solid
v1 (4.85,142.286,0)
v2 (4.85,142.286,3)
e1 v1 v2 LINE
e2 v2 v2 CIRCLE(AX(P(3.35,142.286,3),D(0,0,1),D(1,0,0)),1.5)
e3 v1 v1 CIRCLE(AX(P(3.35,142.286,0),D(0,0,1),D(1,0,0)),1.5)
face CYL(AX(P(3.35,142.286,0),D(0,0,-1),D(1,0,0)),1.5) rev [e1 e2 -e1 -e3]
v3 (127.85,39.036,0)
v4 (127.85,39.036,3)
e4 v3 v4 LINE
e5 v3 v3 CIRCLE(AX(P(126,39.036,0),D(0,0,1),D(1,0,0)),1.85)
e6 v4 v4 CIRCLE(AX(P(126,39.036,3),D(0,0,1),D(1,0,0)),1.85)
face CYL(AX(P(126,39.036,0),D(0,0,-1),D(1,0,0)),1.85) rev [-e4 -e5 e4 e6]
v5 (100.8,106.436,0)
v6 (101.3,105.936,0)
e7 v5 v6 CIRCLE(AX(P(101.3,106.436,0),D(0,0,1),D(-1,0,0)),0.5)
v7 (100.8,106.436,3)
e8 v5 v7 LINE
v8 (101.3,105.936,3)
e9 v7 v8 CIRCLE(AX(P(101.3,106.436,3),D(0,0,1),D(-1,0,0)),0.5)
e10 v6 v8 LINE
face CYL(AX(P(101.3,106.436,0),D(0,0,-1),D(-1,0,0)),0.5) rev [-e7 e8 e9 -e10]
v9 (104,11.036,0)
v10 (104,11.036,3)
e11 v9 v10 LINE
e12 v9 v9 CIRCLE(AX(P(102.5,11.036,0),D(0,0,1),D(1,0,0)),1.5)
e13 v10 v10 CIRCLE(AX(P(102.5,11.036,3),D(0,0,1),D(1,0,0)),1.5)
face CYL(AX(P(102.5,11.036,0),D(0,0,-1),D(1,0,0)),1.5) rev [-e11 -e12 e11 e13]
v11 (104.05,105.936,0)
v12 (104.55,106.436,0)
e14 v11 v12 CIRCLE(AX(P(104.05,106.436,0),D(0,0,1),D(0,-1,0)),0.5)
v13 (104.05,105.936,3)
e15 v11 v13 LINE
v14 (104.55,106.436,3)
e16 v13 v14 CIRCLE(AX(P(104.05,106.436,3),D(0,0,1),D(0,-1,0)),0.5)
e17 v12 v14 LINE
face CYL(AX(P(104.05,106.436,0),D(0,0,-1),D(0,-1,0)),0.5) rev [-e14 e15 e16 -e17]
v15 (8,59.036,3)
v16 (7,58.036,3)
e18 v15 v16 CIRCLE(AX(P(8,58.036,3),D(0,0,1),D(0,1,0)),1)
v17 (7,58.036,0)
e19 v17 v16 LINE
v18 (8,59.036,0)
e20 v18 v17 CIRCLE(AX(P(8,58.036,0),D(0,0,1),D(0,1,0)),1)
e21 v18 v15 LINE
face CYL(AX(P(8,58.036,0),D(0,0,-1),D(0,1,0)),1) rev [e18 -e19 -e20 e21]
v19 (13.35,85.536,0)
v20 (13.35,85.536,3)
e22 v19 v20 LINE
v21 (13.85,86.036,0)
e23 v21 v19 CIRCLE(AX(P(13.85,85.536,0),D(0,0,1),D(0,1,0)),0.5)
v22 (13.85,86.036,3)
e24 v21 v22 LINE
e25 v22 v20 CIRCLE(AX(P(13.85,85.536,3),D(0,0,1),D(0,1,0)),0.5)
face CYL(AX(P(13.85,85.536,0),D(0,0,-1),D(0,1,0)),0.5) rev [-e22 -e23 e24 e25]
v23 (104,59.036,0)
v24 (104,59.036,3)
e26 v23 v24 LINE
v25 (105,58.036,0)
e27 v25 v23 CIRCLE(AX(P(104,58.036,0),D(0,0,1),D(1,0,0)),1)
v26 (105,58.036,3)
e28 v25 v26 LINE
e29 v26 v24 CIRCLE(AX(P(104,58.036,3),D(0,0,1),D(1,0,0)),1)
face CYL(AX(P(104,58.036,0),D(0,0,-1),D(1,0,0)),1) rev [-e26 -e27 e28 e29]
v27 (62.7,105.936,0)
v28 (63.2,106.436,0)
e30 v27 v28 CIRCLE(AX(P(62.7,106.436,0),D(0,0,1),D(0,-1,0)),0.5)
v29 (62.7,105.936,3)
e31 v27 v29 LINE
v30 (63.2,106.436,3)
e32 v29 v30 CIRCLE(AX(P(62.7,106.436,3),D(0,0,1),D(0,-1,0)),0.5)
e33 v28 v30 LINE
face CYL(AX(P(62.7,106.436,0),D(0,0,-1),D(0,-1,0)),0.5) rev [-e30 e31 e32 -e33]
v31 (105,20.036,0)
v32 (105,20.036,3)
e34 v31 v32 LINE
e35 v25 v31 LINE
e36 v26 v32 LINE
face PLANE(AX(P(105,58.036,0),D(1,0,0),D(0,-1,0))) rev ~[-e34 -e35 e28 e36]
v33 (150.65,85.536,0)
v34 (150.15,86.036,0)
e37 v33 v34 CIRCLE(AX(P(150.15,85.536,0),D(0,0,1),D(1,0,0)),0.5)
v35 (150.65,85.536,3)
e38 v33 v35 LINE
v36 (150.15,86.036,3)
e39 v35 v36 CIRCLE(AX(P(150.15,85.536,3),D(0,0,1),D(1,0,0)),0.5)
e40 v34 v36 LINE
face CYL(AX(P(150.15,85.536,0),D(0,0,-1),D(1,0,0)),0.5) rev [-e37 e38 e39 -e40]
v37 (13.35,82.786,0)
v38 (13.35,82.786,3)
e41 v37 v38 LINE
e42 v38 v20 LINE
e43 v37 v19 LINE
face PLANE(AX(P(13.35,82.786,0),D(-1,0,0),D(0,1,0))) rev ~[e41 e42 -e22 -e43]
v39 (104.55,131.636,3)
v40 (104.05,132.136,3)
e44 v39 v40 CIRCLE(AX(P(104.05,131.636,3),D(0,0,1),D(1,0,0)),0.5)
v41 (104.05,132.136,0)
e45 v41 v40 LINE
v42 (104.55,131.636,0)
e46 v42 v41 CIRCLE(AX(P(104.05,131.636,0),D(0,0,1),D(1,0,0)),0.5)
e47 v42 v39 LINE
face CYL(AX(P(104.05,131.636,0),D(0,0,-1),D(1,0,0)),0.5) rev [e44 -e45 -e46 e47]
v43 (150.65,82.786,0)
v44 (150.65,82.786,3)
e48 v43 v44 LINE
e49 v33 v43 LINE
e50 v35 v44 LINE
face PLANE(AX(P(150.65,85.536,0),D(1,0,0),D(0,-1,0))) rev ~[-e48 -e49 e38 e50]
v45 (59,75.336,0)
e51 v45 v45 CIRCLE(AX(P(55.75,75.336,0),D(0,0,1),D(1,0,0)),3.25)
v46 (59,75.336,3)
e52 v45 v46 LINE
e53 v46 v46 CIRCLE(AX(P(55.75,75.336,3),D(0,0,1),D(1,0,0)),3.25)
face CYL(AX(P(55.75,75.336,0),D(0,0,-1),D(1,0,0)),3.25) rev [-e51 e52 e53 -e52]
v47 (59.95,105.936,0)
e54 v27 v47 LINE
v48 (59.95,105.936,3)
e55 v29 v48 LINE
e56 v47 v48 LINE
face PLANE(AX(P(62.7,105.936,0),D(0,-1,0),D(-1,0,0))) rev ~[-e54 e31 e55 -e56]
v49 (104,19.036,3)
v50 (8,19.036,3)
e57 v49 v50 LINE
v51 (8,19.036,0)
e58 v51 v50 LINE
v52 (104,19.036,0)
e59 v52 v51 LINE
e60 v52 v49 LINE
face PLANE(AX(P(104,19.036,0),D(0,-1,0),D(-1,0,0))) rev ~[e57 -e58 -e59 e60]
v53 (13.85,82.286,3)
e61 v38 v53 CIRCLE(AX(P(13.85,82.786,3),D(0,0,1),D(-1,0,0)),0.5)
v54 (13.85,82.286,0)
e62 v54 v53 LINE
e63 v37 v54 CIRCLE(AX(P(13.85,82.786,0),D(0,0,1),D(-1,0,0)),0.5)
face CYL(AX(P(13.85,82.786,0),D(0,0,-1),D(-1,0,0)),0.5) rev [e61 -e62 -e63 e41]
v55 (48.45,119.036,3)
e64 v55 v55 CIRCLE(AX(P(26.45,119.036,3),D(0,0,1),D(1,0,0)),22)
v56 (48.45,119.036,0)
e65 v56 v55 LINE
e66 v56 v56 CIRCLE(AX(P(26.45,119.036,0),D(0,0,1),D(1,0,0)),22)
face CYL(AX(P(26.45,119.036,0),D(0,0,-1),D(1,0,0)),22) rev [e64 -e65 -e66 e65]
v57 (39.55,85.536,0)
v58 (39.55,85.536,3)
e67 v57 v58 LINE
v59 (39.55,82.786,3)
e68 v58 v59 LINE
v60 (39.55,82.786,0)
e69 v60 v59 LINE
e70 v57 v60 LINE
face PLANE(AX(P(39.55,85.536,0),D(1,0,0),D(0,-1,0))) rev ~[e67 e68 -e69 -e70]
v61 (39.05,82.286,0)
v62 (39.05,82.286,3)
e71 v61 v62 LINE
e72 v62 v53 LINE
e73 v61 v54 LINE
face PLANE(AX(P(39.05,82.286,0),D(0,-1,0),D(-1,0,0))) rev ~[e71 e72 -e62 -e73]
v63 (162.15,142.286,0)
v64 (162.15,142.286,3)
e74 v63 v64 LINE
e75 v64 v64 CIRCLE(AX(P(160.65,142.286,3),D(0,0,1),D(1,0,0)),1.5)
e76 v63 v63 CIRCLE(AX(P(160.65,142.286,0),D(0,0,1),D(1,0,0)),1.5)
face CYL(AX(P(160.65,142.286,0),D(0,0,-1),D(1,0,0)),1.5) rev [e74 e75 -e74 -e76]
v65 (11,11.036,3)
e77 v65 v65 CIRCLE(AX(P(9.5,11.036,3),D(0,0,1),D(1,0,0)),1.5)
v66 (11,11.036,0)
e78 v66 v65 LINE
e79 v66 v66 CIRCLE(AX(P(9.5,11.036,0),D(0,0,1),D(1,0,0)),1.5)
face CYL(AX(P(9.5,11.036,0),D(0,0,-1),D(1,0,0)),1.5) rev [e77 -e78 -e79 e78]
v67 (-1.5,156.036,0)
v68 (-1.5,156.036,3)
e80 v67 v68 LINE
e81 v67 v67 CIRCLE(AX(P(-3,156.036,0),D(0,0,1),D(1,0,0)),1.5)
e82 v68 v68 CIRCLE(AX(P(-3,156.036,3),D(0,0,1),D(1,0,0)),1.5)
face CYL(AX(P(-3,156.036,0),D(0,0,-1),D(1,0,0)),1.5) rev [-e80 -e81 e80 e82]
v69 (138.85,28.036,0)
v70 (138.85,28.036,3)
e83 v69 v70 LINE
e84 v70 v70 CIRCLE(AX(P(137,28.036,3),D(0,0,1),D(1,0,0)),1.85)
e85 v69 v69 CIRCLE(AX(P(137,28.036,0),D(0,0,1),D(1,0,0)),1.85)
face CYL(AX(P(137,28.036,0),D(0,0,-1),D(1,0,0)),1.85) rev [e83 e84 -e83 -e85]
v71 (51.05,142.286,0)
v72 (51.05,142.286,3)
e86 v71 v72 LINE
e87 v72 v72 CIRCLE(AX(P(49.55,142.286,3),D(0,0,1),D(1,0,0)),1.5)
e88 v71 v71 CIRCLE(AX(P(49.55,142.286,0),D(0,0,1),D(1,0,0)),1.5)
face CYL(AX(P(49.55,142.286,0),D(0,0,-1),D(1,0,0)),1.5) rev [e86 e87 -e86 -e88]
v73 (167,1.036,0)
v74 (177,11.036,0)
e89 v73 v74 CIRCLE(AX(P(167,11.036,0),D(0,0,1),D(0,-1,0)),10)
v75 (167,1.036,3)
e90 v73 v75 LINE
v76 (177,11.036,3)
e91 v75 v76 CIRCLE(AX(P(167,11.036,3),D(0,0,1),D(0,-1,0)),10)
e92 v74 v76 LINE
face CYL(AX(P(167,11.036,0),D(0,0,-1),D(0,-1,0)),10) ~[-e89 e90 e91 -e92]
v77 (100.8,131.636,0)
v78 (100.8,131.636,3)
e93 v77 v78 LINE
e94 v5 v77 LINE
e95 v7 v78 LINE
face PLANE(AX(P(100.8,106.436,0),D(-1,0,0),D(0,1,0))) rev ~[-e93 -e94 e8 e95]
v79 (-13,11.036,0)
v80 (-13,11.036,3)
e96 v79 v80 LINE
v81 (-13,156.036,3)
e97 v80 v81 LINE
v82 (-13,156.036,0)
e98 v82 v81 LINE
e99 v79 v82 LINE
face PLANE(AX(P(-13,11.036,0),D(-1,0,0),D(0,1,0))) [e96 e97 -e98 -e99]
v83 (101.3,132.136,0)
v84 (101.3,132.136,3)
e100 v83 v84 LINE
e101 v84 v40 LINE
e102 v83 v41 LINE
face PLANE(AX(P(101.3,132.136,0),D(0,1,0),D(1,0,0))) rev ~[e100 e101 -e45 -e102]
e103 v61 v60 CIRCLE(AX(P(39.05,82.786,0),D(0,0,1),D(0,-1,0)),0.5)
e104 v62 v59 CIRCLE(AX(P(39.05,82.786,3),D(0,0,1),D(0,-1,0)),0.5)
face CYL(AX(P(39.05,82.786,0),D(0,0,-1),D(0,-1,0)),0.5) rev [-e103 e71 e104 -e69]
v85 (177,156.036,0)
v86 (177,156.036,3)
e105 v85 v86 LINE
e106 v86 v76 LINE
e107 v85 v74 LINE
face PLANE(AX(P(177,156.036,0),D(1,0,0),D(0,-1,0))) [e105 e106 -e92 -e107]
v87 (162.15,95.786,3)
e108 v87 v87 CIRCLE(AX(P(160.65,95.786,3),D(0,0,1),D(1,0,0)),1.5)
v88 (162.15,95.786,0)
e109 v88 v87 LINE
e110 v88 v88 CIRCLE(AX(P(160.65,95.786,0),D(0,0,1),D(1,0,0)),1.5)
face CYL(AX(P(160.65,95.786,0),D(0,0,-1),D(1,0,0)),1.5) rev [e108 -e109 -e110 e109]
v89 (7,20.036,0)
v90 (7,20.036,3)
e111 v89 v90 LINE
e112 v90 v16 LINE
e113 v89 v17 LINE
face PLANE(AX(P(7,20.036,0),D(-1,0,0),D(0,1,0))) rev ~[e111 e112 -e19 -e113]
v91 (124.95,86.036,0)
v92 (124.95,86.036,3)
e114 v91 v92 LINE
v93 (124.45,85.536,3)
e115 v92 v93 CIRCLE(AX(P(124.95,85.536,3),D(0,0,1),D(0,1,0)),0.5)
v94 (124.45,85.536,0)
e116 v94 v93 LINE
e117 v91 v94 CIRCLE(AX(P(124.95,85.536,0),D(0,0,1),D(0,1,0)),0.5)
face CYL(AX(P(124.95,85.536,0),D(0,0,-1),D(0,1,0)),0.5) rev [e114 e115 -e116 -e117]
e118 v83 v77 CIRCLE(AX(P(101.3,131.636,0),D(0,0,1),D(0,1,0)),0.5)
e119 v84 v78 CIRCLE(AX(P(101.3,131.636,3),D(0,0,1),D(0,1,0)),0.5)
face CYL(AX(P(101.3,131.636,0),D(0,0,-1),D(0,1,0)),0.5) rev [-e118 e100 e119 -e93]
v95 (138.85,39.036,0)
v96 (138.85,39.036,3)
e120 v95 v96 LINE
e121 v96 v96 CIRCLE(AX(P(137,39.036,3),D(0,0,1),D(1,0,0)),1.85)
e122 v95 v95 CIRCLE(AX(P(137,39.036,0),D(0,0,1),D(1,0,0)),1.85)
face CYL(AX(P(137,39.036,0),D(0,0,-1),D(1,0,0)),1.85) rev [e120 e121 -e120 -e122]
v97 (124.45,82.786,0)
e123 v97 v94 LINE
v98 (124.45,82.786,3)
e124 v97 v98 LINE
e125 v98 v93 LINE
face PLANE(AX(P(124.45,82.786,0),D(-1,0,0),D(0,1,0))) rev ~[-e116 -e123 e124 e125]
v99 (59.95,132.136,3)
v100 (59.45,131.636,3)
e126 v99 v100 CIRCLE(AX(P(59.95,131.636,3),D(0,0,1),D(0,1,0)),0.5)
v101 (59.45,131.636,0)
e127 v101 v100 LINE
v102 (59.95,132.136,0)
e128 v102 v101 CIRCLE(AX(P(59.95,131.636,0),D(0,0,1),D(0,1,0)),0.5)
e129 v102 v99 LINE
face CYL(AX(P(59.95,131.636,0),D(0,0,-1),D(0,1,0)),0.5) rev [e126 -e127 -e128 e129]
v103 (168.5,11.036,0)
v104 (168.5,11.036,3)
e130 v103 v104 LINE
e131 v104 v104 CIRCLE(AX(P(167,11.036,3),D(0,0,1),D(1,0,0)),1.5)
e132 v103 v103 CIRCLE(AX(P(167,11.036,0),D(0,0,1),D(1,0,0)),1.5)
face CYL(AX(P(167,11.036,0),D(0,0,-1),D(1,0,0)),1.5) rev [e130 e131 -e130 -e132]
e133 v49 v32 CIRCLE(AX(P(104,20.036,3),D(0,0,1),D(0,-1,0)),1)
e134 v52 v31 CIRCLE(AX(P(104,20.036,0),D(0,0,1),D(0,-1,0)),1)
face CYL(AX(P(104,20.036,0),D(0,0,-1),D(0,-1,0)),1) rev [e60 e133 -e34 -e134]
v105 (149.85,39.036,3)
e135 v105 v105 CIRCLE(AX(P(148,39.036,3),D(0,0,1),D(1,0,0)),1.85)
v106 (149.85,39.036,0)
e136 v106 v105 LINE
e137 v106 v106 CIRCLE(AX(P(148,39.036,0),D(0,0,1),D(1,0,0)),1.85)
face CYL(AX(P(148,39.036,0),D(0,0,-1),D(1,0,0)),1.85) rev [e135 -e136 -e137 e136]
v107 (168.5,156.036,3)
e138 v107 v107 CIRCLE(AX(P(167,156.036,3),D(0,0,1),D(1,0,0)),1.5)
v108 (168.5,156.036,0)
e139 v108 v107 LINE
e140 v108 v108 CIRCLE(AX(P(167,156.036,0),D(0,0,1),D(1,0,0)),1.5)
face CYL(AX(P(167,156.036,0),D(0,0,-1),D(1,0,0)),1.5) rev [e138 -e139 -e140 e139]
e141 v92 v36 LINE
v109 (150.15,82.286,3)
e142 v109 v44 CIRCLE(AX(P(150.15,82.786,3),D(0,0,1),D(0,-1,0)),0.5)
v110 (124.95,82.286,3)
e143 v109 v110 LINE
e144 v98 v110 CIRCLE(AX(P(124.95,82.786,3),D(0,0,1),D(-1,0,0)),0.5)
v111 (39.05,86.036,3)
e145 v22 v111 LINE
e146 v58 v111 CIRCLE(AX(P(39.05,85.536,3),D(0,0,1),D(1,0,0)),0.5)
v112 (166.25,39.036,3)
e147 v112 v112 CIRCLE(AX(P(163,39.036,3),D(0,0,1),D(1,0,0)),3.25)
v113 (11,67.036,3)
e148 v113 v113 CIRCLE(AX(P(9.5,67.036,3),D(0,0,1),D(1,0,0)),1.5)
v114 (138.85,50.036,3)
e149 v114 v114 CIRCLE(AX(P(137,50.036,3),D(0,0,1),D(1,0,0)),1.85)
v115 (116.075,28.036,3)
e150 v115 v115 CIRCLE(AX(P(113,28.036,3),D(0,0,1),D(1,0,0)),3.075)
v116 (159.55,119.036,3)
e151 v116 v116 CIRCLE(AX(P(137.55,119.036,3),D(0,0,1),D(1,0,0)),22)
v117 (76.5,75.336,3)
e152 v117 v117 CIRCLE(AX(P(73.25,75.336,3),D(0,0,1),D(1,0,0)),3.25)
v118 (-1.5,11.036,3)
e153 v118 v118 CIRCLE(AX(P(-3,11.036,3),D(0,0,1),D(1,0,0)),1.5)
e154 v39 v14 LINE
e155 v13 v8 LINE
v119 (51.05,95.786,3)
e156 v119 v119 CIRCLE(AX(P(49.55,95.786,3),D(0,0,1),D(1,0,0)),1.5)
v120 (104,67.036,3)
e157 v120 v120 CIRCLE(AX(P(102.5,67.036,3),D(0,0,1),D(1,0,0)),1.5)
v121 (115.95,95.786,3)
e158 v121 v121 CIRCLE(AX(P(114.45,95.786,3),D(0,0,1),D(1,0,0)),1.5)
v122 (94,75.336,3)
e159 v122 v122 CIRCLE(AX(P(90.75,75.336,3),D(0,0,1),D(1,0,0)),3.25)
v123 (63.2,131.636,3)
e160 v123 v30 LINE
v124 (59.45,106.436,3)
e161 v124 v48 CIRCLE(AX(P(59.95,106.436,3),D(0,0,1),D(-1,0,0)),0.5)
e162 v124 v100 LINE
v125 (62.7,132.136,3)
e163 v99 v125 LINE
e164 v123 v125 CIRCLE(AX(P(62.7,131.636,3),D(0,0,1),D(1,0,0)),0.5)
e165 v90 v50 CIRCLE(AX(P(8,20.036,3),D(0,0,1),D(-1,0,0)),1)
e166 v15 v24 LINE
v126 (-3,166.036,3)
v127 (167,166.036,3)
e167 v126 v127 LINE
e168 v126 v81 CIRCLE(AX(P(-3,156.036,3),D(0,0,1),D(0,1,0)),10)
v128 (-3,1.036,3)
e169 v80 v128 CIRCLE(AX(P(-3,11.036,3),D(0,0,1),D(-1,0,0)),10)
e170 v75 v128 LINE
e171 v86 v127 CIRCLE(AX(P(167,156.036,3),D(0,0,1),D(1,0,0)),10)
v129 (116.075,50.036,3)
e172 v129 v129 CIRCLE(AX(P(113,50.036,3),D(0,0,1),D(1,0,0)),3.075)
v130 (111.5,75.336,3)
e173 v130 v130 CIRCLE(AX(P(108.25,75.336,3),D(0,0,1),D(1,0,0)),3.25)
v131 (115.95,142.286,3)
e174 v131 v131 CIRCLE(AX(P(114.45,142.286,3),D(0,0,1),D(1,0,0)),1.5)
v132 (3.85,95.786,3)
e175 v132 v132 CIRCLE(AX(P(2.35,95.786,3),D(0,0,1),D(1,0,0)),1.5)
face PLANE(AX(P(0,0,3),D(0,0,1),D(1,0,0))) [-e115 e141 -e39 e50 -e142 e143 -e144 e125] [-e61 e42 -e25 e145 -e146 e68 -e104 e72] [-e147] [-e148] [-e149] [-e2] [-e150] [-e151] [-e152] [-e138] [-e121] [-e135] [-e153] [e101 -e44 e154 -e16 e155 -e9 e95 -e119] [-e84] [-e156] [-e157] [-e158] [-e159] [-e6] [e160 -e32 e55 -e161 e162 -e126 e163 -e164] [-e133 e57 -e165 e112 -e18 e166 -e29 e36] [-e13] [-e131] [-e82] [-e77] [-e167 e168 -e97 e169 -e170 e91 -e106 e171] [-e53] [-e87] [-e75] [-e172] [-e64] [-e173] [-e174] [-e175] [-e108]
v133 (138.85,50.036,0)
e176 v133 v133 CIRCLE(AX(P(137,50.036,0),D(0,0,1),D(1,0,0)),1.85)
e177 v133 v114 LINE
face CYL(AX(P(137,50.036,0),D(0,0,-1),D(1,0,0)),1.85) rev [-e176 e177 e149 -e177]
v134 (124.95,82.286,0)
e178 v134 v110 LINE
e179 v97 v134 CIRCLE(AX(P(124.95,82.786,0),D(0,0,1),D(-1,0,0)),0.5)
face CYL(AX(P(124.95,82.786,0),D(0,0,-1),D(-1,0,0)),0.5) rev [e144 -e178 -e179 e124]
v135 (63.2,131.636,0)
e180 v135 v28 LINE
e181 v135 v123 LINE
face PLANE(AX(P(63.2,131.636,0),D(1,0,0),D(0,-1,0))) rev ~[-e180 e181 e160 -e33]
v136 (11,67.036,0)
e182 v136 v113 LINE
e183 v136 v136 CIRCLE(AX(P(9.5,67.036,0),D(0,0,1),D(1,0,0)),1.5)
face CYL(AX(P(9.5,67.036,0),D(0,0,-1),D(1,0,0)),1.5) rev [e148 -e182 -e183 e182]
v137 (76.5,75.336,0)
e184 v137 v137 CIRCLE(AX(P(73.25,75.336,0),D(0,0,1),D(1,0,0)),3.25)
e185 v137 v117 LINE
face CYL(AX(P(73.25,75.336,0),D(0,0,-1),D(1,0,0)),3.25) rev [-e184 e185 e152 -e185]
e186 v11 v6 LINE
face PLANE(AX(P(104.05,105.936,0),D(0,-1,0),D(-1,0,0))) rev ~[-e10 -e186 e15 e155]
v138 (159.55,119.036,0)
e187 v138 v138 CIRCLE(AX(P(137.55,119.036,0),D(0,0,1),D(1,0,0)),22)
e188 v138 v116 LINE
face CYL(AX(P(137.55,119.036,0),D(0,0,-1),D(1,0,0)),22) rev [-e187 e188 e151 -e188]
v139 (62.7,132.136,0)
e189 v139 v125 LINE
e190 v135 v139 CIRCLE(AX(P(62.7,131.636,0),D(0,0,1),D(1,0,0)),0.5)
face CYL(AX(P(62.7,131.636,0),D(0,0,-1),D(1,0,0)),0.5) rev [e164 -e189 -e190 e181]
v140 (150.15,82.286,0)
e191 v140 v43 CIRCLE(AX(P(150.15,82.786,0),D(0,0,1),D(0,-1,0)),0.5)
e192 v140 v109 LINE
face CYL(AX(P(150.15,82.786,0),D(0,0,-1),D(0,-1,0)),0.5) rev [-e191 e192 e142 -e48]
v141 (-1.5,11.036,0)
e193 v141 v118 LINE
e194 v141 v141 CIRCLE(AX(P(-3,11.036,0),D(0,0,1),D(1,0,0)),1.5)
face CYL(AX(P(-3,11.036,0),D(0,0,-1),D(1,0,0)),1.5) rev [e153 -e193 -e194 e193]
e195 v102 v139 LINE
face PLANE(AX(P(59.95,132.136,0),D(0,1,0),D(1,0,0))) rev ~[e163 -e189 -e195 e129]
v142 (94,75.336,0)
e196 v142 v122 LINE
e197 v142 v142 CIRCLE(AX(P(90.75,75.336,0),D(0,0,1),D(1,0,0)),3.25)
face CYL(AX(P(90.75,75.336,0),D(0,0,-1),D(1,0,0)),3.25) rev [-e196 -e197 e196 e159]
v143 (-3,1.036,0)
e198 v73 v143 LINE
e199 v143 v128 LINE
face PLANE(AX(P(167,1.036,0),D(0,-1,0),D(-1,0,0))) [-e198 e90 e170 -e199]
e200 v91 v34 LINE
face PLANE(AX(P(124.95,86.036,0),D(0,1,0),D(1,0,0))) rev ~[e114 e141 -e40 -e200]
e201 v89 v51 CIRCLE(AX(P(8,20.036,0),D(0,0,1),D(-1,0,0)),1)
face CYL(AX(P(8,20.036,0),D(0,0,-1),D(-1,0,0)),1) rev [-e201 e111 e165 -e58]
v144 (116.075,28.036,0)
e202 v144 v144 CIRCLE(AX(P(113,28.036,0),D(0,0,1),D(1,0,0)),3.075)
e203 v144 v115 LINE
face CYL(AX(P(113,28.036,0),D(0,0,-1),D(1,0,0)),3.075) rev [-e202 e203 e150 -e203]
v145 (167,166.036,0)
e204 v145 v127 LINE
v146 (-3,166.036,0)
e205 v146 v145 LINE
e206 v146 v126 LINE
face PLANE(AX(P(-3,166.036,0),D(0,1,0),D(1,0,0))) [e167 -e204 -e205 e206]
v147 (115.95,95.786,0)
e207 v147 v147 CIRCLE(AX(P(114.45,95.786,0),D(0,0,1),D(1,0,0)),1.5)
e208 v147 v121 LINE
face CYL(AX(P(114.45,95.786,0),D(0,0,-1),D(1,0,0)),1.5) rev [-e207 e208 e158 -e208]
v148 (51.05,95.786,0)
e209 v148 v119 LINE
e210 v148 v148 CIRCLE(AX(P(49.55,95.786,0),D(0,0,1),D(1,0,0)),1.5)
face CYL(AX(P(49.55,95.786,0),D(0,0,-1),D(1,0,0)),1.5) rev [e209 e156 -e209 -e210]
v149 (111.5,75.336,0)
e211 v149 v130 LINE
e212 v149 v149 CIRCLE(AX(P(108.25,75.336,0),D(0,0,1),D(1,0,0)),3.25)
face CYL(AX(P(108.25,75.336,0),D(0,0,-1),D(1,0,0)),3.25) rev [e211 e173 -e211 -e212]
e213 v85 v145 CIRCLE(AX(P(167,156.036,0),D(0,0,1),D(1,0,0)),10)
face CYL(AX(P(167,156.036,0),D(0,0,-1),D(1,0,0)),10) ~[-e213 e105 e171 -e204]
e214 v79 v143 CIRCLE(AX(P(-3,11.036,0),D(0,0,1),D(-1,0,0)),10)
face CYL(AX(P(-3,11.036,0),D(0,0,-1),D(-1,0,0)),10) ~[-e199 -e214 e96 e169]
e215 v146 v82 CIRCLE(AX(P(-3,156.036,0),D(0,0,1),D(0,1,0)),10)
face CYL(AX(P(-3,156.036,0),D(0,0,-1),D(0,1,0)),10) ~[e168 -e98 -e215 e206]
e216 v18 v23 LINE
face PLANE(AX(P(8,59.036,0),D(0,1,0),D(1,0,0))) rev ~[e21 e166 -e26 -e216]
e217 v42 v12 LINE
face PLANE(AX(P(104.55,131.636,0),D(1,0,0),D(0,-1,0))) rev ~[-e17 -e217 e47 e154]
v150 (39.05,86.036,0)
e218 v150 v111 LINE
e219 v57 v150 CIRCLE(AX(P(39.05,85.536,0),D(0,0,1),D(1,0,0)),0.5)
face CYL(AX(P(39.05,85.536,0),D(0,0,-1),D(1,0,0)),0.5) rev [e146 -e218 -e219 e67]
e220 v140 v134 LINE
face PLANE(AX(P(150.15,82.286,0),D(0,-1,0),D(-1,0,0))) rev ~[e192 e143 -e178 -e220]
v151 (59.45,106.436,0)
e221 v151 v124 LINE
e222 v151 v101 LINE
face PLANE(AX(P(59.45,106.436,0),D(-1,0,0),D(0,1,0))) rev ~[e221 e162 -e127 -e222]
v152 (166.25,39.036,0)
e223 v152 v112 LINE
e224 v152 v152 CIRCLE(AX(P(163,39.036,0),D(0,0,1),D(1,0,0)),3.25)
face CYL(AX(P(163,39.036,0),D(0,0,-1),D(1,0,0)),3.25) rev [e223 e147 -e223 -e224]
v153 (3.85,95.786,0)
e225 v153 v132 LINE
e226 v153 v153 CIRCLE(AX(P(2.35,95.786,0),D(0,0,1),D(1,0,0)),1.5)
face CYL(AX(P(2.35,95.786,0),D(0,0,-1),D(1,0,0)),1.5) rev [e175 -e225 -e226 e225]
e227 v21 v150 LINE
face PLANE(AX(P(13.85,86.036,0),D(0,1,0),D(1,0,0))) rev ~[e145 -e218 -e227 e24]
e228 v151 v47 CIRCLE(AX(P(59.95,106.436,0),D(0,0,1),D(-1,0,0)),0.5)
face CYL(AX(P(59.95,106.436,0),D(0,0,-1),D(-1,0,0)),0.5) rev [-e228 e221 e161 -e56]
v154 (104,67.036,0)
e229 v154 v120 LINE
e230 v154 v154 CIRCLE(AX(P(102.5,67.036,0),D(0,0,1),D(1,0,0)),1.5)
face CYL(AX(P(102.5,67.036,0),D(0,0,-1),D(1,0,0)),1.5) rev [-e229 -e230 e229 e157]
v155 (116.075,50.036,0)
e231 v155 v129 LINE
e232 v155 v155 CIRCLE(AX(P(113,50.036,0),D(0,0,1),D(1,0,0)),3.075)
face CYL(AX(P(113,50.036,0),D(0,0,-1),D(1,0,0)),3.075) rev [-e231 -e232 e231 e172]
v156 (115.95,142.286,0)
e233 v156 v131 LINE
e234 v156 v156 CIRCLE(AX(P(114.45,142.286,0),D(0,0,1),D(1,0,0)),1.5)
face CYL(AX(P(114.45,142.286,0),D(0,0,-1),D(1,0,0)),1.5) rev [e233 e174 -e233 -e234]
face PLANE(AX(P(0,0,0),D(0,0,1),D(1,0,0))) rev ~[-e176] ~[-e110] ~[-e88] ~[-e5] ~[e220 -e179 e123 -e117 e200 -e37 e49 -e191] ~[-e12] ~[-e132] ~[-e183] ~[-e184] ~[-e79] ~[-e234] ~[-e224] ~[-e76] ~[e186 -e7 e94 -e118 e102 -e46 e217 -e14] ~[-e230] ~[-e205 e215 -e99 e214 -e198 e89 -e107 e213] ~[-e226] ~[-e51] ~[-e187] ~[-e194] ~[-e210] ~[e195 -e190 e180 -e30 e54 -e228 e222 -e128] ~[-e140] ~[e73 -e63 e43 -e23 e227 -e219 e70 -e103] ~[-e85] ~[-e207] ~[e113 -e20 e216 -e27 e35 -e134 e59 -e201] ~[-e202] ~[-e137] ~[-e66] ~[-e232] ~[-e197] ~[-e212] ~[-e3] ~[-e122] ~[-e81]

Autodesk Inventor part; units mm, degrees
ref_plane "YZ Plane" through (0, 0, 0) normal (1, 0, 0) x (0, 1, 0)
ref_plane "XZ Plane" through (0, 0, 0) normal (0, 1, 0) x (-1, 0, 0)
ref_plane "XY Plane" through (0, 0, 0) normal (0, 0, 1) x (1, 0, 0)
sketch "Sketch1" plane through (0, 0, 0) normal (0, 0, 1) x (1, 0, 0)
  line L0 (-3, 166.036) -> (167, 166.036)
  line L1 (177, 156.036) -> (177, 11.036)
  line L2 (167, 1.036) -> (-3, 1.036)
  line L3 (-13, 11.036) -> (-13, 156.036)
  arc A0 (177, 156.036) -> (167, 166.036) centre (167, 156.036) ccw
  arc A1 (-3, 166.036) -> (-13, 156.036) centre (-3, 156.036) ccw
  arc A2 (-13, 11.036) -> (-3, 1.036) centre (-3, 11.036) ccw
  arc A3 (167, 1.036) -> (177, 11.036) centre (167, 11.036) ccw
  circle A4 centre (26.45, 119.036) radius 22
  circle A5 centre (137.55, 119.036) radius 22
  line L4 (59.95, 132.136) -> (62.7, 132.136)
  line L5 (63.2, 131.636) -> (63.2, 106.436)
  line L6 (62.7, 105.936) -> (59.95, 105.936)
  line L7 (59.45, 106.436) -> (59.45, 131.636)
  line L8 (101.3, 132.136) -> (104.05, 132.136)
  line L9 (104.55, 131.636) -> (104.55, 106.436)
  line L10 (104.05, 105.936) -> (101.3, 105.936)
  line L11 (100.8, 106.436) -> (100.8, 131.636)
  line L12 (13.85, 86.036) -> (39.05, 86.036)
  line L13 (39.55, 85.536) -> (39.55, 82.786)
  line L14 (39.05, 82.286) -> (13.85, 82.286)
  line L15 (13.35, 82.786) -> (13.35, 85.536)
  line L16 (124.95, 86.036) -> (150.15, 86.036)
  line L17 (150.65, 85.536) -> (150.65, 82.786)
  line L18 (150.15, 82.286) -> (124.95, 82.286)
  line L19 (124.45, 82.786) -> (124.45, 85.536)
  line L20 (26.45, 119.036) -> (137.55, 119.036) construction
  arc A6 (59.95, 132.136) -> (59.45, 131.636) centre (59.95, 131.636) ccw
  arc A7 (63.2, 131.636) -> (62.7, 132.136) centre (62.7, 131.636) ccw
  arc A8 (62.7, 105.936) -> (63.2, 106.436) centre (62.7, 106.436) ccw
  arc A9 (59.45, 106.436) -> (59.95, 105.936) centre (59.95, 106.436) ccw
  arc A10 (100.8, 106.436) -> (101.3, 105.936) centre (101.3, 106.436) ccw
  arc A11 (104.05, 105.936) -> (104.55, 106.436) centre (104.05, 106.436) ccw
  arc A12 (101.3, 132.136) -> (100.8, 131.636) centre (101.3, 131.636) ccw
  arc A13 (104.55, 131.636) -> (104.05, 132.136) centre (104.05, 131.636) ccw
  arc A14 (39.55, 85.536) -> (39.05, 86.036) centre (39.05, 85.536) ccw
  arc A15 (39.05, 82.286) -> (39.55, 82.786) centre (39.05, 82.786) ccw
  arc A16 (13.35, 82.786) -> (13.85, 82.286) centre (13.85, 82.786) ccw
  arc A17 (13.85, 86.036) -> (13.35, 85.536) centre (13.85, 85.536) ccw
  circle A18 centre (49.55, 142.286) radius 1.5
  circle A19 centre (3.35, 142.286) radius 1.5
  circle A20 centre (49.55, 95.786) radius 1.5
  circle A21 centre (2.35, 95.786) radius 1.5
  line L21 (49.55, 142.286) -> (49.55, 95.786) construction
  line L22 (49.55, 142.286) -> (3.35, 142.286) construction
  arc A22 (124.95, 86.036) -> (124.45, 85.536) centre (124.95, 85.536) ccw
  arc A23 (124.45, 82.786) -> (124.95, 82.286) centre (124.95, 82.786) ccw
  arc A24 (150.15, 82.286) -> (150.65, 82.786) centre (150.15, 82.786) ccw
  arc A25 (150.65, 85.536) -> (150.15, 86.036) centre (150.15, 85.536) ccw
  circle A26 centre (114.45, 142.286) radius 1.5
  circle A27 centre (160.65, 142.286) radius 1.5
  circle A28 centre (160.65, 95.786) radius 1.5
  circle A29 centre (114.45, 95.786) radius 1.5
  line L23 (160.65, 142.286) -> (160.65, 95.786) construction
  line L24 (114.45, 142.286) -> (160.65, 142.286) construction
  line L25 (8, 59.036) -> (104, 59.036)
  line L26 (105, 58.036) -> (105, 20.036)
  line L27 (104, 19.036) -> (8, 19.036)
  line L28 (7, 20.036) -> (7, 58.036)
  arc A30 (8, 59.036) -> (7, 58.036) centre (8, 58.036) ccw
  arc A31 (7, 20.036) -> (8, 19.036) centre (8, 20.036) ccw
  arc A32 (104, 19.036) -> (105, 20.036) centre (104, 20.036) ccw
  arc A33 (105, 58.036) -> (104, 59.036) centre (104, 58.036) ccw
  circle A34 centre (55.75, 75.336) radius 3.25
  circle A35 centre (73.25, 75.336) radius 3.25
  circle A36 centre (90.75, 75.336) radius 3.25
  circle A37 centre (108.25, 75.336) radius 3.25
  line L29 (73.25, 75.336) -> (90.75, 75.336) construction
  line L30 (39.55, 82.286) -> (124.45, 82.286) construction
  circle A38 centre (113, 50.036) radius 3.075
  circle A39 centre (113, 28.036) radius 3.075
  line L31 (113, 50.036) -> (113, 28.036) construction
  circle A40 centre (137, 50.036) radius 1.85
  circle A41 centre (126, 39.036) radius 1.85
  circle A42 centre (137, 39.036) radius 1.85
  circle A43 centre (137, 28.036) radius 1.85
  circle A44 centre (148, 39.036) radius 1.85
  circle A45 centre (163, 39.036) radius 3.25
  circle A46 centre (167, 156.036) radius 1.5
  circle A47 centre (-3, 156.036) radius 1.5
  circle A48 centre (167, 11.036) radius 1.5
  circle A49 centre (-3, 11.036) radius 1.5
  circle A50 centre (9.5, 67.036) radius 1.5
  circle A51 centre (102.5, 67.036) radius 1.5
  circle A52 centre (9.5, 11.036) radius 1.5
  circle A53 centre (102.5, 11.036) radius 1.5
  point P0 (0, 0)
  point P1 (-13, 166.036)
  point P2 (177, 1.036)
  point P3 (-13, 1.036)
  point P4 (59.45, 132.136)
  point P5 (63.2, 105.936)
  point P6 (63.2, 132.136)
  point P7 (100.8, 132.136)
  point P8 (104.55, 105.936)
  point P9 (104.55, 132.136)
  point P10 (13.35, 86.036)
  point P11 (13.35, 82.286)
  point P12 (124.45, 86.036)
  point P13 (150.65, 82.286)
  point P14 (104.55, 119.036)
  point P15 (63.2, 119.036)
  point P16 (26.45, 86.036)
  point P17 (137.55, 86.036)
  point P18 (26.45, 142.286)
  point P19 (49.55, 119.036)
  point P20 (160.65, 119.036)
  point P21 (137.55, 142.286)
  point P22 (105, 19.036)
  point P23 (105, 59.036)
  point P24 (7, 19.036)
  point P25 (82, 75.336)
  point P26 (82, 82.286)
  point P27 (113, 39.036)
  point P28 (105, 39.036)
  dimension "d0" = 190
  dimension "d1" = 165
  dimension "d2" = 10
  dimension "d3" = 44
  dimension "d4" = 44
  dimension "d5" = 111.1
  dimension "d6" = 39.45
  dimension "d7" = 39.45
  dimension "d8" = 47
  dimension "d9" = 3.75
  dimension "d10" = 26.2
  dimension "d11" = 3.75
  dimension "d12" = 26.2
  dimension "d13" = 3.75
  dimension "d14" = 26.2
  dimension "d15" = 3.75
  dimension "d16" = 26.2
  dimension "d17" = 33
  dimension "d18" = 33
  dimension "d19" = 33
  dimension "d20" = 33
  dimension "d21" = 0.5
  dimension "a" = 3
  dimension "d23" = 3
  dimension "d24" = 3
  dimension "d25" = 3
  dimension "d26" = 46.2
  dimension "d27" = 47.2
  dimension "d28" = 46.5
  dimension "d29" = 0.5
  dimension "d30" = 3
  dimension "d31" = 3
  dimension "d32" = 3
  dimension "d33" = 3
  dimension "d34" = 46.2
  dimension "d35" = 46.5
  dimension "d36" = 98
  dimension "d37" = 40
  dimension "d38" = 20
  dimension "d39" = 18
  dimension "d40" = 1
  dimension "d41" = 23.25
  dimension "b" = 6.5
  dimension "d43" = 6.5
  dimension "d44" = 6.5
  dimension "d45" = 6.5
  dimension "d" = 17.5
  dimension "d47" = 17.5
  dimension "d48" = 17.5
  dimension "d49" = 16.3
  dimension "e" = 6.15
  dimension "d51" = 6.15
  dimension "d52" = 22
  dimension "d53" = 8
  dimension "i" = 3.7
  dimension "d55" = 3.7
  dimension "d56" = 3.7
  dimension "d57" = 3.7
  dimension "d58" = 3.7
  dimension "d59" = 22
  dimension "d60" = 11
  dimension "d61" = 22
  dimension "d62" = 11
  dimension "d68" = 6.5
extrude "Extrusion1" add sketch "Sketch1" along normal blind 3 contours L0 A0 L1 A3 L2 A2 L3 A1 | A50 | A51 | A52 | A53
extrude "Extrusion2" cut sketch "Sketch1" along normal blind 3 contours A50 | A51 | A52 | A53
equation "\"d23\" = a"
equation "\"d24\" = a"
equation "\"d25\" = a"
equation "\"d30\" = a"
equation "\"d31\" = a"
equation "\"d32\" = a"
equation "\"d33\" = a"
equation "\"d43\" = b"
equation "\"d44\" = b"
equation "\"d45\" = b"
properties part number "Front"
